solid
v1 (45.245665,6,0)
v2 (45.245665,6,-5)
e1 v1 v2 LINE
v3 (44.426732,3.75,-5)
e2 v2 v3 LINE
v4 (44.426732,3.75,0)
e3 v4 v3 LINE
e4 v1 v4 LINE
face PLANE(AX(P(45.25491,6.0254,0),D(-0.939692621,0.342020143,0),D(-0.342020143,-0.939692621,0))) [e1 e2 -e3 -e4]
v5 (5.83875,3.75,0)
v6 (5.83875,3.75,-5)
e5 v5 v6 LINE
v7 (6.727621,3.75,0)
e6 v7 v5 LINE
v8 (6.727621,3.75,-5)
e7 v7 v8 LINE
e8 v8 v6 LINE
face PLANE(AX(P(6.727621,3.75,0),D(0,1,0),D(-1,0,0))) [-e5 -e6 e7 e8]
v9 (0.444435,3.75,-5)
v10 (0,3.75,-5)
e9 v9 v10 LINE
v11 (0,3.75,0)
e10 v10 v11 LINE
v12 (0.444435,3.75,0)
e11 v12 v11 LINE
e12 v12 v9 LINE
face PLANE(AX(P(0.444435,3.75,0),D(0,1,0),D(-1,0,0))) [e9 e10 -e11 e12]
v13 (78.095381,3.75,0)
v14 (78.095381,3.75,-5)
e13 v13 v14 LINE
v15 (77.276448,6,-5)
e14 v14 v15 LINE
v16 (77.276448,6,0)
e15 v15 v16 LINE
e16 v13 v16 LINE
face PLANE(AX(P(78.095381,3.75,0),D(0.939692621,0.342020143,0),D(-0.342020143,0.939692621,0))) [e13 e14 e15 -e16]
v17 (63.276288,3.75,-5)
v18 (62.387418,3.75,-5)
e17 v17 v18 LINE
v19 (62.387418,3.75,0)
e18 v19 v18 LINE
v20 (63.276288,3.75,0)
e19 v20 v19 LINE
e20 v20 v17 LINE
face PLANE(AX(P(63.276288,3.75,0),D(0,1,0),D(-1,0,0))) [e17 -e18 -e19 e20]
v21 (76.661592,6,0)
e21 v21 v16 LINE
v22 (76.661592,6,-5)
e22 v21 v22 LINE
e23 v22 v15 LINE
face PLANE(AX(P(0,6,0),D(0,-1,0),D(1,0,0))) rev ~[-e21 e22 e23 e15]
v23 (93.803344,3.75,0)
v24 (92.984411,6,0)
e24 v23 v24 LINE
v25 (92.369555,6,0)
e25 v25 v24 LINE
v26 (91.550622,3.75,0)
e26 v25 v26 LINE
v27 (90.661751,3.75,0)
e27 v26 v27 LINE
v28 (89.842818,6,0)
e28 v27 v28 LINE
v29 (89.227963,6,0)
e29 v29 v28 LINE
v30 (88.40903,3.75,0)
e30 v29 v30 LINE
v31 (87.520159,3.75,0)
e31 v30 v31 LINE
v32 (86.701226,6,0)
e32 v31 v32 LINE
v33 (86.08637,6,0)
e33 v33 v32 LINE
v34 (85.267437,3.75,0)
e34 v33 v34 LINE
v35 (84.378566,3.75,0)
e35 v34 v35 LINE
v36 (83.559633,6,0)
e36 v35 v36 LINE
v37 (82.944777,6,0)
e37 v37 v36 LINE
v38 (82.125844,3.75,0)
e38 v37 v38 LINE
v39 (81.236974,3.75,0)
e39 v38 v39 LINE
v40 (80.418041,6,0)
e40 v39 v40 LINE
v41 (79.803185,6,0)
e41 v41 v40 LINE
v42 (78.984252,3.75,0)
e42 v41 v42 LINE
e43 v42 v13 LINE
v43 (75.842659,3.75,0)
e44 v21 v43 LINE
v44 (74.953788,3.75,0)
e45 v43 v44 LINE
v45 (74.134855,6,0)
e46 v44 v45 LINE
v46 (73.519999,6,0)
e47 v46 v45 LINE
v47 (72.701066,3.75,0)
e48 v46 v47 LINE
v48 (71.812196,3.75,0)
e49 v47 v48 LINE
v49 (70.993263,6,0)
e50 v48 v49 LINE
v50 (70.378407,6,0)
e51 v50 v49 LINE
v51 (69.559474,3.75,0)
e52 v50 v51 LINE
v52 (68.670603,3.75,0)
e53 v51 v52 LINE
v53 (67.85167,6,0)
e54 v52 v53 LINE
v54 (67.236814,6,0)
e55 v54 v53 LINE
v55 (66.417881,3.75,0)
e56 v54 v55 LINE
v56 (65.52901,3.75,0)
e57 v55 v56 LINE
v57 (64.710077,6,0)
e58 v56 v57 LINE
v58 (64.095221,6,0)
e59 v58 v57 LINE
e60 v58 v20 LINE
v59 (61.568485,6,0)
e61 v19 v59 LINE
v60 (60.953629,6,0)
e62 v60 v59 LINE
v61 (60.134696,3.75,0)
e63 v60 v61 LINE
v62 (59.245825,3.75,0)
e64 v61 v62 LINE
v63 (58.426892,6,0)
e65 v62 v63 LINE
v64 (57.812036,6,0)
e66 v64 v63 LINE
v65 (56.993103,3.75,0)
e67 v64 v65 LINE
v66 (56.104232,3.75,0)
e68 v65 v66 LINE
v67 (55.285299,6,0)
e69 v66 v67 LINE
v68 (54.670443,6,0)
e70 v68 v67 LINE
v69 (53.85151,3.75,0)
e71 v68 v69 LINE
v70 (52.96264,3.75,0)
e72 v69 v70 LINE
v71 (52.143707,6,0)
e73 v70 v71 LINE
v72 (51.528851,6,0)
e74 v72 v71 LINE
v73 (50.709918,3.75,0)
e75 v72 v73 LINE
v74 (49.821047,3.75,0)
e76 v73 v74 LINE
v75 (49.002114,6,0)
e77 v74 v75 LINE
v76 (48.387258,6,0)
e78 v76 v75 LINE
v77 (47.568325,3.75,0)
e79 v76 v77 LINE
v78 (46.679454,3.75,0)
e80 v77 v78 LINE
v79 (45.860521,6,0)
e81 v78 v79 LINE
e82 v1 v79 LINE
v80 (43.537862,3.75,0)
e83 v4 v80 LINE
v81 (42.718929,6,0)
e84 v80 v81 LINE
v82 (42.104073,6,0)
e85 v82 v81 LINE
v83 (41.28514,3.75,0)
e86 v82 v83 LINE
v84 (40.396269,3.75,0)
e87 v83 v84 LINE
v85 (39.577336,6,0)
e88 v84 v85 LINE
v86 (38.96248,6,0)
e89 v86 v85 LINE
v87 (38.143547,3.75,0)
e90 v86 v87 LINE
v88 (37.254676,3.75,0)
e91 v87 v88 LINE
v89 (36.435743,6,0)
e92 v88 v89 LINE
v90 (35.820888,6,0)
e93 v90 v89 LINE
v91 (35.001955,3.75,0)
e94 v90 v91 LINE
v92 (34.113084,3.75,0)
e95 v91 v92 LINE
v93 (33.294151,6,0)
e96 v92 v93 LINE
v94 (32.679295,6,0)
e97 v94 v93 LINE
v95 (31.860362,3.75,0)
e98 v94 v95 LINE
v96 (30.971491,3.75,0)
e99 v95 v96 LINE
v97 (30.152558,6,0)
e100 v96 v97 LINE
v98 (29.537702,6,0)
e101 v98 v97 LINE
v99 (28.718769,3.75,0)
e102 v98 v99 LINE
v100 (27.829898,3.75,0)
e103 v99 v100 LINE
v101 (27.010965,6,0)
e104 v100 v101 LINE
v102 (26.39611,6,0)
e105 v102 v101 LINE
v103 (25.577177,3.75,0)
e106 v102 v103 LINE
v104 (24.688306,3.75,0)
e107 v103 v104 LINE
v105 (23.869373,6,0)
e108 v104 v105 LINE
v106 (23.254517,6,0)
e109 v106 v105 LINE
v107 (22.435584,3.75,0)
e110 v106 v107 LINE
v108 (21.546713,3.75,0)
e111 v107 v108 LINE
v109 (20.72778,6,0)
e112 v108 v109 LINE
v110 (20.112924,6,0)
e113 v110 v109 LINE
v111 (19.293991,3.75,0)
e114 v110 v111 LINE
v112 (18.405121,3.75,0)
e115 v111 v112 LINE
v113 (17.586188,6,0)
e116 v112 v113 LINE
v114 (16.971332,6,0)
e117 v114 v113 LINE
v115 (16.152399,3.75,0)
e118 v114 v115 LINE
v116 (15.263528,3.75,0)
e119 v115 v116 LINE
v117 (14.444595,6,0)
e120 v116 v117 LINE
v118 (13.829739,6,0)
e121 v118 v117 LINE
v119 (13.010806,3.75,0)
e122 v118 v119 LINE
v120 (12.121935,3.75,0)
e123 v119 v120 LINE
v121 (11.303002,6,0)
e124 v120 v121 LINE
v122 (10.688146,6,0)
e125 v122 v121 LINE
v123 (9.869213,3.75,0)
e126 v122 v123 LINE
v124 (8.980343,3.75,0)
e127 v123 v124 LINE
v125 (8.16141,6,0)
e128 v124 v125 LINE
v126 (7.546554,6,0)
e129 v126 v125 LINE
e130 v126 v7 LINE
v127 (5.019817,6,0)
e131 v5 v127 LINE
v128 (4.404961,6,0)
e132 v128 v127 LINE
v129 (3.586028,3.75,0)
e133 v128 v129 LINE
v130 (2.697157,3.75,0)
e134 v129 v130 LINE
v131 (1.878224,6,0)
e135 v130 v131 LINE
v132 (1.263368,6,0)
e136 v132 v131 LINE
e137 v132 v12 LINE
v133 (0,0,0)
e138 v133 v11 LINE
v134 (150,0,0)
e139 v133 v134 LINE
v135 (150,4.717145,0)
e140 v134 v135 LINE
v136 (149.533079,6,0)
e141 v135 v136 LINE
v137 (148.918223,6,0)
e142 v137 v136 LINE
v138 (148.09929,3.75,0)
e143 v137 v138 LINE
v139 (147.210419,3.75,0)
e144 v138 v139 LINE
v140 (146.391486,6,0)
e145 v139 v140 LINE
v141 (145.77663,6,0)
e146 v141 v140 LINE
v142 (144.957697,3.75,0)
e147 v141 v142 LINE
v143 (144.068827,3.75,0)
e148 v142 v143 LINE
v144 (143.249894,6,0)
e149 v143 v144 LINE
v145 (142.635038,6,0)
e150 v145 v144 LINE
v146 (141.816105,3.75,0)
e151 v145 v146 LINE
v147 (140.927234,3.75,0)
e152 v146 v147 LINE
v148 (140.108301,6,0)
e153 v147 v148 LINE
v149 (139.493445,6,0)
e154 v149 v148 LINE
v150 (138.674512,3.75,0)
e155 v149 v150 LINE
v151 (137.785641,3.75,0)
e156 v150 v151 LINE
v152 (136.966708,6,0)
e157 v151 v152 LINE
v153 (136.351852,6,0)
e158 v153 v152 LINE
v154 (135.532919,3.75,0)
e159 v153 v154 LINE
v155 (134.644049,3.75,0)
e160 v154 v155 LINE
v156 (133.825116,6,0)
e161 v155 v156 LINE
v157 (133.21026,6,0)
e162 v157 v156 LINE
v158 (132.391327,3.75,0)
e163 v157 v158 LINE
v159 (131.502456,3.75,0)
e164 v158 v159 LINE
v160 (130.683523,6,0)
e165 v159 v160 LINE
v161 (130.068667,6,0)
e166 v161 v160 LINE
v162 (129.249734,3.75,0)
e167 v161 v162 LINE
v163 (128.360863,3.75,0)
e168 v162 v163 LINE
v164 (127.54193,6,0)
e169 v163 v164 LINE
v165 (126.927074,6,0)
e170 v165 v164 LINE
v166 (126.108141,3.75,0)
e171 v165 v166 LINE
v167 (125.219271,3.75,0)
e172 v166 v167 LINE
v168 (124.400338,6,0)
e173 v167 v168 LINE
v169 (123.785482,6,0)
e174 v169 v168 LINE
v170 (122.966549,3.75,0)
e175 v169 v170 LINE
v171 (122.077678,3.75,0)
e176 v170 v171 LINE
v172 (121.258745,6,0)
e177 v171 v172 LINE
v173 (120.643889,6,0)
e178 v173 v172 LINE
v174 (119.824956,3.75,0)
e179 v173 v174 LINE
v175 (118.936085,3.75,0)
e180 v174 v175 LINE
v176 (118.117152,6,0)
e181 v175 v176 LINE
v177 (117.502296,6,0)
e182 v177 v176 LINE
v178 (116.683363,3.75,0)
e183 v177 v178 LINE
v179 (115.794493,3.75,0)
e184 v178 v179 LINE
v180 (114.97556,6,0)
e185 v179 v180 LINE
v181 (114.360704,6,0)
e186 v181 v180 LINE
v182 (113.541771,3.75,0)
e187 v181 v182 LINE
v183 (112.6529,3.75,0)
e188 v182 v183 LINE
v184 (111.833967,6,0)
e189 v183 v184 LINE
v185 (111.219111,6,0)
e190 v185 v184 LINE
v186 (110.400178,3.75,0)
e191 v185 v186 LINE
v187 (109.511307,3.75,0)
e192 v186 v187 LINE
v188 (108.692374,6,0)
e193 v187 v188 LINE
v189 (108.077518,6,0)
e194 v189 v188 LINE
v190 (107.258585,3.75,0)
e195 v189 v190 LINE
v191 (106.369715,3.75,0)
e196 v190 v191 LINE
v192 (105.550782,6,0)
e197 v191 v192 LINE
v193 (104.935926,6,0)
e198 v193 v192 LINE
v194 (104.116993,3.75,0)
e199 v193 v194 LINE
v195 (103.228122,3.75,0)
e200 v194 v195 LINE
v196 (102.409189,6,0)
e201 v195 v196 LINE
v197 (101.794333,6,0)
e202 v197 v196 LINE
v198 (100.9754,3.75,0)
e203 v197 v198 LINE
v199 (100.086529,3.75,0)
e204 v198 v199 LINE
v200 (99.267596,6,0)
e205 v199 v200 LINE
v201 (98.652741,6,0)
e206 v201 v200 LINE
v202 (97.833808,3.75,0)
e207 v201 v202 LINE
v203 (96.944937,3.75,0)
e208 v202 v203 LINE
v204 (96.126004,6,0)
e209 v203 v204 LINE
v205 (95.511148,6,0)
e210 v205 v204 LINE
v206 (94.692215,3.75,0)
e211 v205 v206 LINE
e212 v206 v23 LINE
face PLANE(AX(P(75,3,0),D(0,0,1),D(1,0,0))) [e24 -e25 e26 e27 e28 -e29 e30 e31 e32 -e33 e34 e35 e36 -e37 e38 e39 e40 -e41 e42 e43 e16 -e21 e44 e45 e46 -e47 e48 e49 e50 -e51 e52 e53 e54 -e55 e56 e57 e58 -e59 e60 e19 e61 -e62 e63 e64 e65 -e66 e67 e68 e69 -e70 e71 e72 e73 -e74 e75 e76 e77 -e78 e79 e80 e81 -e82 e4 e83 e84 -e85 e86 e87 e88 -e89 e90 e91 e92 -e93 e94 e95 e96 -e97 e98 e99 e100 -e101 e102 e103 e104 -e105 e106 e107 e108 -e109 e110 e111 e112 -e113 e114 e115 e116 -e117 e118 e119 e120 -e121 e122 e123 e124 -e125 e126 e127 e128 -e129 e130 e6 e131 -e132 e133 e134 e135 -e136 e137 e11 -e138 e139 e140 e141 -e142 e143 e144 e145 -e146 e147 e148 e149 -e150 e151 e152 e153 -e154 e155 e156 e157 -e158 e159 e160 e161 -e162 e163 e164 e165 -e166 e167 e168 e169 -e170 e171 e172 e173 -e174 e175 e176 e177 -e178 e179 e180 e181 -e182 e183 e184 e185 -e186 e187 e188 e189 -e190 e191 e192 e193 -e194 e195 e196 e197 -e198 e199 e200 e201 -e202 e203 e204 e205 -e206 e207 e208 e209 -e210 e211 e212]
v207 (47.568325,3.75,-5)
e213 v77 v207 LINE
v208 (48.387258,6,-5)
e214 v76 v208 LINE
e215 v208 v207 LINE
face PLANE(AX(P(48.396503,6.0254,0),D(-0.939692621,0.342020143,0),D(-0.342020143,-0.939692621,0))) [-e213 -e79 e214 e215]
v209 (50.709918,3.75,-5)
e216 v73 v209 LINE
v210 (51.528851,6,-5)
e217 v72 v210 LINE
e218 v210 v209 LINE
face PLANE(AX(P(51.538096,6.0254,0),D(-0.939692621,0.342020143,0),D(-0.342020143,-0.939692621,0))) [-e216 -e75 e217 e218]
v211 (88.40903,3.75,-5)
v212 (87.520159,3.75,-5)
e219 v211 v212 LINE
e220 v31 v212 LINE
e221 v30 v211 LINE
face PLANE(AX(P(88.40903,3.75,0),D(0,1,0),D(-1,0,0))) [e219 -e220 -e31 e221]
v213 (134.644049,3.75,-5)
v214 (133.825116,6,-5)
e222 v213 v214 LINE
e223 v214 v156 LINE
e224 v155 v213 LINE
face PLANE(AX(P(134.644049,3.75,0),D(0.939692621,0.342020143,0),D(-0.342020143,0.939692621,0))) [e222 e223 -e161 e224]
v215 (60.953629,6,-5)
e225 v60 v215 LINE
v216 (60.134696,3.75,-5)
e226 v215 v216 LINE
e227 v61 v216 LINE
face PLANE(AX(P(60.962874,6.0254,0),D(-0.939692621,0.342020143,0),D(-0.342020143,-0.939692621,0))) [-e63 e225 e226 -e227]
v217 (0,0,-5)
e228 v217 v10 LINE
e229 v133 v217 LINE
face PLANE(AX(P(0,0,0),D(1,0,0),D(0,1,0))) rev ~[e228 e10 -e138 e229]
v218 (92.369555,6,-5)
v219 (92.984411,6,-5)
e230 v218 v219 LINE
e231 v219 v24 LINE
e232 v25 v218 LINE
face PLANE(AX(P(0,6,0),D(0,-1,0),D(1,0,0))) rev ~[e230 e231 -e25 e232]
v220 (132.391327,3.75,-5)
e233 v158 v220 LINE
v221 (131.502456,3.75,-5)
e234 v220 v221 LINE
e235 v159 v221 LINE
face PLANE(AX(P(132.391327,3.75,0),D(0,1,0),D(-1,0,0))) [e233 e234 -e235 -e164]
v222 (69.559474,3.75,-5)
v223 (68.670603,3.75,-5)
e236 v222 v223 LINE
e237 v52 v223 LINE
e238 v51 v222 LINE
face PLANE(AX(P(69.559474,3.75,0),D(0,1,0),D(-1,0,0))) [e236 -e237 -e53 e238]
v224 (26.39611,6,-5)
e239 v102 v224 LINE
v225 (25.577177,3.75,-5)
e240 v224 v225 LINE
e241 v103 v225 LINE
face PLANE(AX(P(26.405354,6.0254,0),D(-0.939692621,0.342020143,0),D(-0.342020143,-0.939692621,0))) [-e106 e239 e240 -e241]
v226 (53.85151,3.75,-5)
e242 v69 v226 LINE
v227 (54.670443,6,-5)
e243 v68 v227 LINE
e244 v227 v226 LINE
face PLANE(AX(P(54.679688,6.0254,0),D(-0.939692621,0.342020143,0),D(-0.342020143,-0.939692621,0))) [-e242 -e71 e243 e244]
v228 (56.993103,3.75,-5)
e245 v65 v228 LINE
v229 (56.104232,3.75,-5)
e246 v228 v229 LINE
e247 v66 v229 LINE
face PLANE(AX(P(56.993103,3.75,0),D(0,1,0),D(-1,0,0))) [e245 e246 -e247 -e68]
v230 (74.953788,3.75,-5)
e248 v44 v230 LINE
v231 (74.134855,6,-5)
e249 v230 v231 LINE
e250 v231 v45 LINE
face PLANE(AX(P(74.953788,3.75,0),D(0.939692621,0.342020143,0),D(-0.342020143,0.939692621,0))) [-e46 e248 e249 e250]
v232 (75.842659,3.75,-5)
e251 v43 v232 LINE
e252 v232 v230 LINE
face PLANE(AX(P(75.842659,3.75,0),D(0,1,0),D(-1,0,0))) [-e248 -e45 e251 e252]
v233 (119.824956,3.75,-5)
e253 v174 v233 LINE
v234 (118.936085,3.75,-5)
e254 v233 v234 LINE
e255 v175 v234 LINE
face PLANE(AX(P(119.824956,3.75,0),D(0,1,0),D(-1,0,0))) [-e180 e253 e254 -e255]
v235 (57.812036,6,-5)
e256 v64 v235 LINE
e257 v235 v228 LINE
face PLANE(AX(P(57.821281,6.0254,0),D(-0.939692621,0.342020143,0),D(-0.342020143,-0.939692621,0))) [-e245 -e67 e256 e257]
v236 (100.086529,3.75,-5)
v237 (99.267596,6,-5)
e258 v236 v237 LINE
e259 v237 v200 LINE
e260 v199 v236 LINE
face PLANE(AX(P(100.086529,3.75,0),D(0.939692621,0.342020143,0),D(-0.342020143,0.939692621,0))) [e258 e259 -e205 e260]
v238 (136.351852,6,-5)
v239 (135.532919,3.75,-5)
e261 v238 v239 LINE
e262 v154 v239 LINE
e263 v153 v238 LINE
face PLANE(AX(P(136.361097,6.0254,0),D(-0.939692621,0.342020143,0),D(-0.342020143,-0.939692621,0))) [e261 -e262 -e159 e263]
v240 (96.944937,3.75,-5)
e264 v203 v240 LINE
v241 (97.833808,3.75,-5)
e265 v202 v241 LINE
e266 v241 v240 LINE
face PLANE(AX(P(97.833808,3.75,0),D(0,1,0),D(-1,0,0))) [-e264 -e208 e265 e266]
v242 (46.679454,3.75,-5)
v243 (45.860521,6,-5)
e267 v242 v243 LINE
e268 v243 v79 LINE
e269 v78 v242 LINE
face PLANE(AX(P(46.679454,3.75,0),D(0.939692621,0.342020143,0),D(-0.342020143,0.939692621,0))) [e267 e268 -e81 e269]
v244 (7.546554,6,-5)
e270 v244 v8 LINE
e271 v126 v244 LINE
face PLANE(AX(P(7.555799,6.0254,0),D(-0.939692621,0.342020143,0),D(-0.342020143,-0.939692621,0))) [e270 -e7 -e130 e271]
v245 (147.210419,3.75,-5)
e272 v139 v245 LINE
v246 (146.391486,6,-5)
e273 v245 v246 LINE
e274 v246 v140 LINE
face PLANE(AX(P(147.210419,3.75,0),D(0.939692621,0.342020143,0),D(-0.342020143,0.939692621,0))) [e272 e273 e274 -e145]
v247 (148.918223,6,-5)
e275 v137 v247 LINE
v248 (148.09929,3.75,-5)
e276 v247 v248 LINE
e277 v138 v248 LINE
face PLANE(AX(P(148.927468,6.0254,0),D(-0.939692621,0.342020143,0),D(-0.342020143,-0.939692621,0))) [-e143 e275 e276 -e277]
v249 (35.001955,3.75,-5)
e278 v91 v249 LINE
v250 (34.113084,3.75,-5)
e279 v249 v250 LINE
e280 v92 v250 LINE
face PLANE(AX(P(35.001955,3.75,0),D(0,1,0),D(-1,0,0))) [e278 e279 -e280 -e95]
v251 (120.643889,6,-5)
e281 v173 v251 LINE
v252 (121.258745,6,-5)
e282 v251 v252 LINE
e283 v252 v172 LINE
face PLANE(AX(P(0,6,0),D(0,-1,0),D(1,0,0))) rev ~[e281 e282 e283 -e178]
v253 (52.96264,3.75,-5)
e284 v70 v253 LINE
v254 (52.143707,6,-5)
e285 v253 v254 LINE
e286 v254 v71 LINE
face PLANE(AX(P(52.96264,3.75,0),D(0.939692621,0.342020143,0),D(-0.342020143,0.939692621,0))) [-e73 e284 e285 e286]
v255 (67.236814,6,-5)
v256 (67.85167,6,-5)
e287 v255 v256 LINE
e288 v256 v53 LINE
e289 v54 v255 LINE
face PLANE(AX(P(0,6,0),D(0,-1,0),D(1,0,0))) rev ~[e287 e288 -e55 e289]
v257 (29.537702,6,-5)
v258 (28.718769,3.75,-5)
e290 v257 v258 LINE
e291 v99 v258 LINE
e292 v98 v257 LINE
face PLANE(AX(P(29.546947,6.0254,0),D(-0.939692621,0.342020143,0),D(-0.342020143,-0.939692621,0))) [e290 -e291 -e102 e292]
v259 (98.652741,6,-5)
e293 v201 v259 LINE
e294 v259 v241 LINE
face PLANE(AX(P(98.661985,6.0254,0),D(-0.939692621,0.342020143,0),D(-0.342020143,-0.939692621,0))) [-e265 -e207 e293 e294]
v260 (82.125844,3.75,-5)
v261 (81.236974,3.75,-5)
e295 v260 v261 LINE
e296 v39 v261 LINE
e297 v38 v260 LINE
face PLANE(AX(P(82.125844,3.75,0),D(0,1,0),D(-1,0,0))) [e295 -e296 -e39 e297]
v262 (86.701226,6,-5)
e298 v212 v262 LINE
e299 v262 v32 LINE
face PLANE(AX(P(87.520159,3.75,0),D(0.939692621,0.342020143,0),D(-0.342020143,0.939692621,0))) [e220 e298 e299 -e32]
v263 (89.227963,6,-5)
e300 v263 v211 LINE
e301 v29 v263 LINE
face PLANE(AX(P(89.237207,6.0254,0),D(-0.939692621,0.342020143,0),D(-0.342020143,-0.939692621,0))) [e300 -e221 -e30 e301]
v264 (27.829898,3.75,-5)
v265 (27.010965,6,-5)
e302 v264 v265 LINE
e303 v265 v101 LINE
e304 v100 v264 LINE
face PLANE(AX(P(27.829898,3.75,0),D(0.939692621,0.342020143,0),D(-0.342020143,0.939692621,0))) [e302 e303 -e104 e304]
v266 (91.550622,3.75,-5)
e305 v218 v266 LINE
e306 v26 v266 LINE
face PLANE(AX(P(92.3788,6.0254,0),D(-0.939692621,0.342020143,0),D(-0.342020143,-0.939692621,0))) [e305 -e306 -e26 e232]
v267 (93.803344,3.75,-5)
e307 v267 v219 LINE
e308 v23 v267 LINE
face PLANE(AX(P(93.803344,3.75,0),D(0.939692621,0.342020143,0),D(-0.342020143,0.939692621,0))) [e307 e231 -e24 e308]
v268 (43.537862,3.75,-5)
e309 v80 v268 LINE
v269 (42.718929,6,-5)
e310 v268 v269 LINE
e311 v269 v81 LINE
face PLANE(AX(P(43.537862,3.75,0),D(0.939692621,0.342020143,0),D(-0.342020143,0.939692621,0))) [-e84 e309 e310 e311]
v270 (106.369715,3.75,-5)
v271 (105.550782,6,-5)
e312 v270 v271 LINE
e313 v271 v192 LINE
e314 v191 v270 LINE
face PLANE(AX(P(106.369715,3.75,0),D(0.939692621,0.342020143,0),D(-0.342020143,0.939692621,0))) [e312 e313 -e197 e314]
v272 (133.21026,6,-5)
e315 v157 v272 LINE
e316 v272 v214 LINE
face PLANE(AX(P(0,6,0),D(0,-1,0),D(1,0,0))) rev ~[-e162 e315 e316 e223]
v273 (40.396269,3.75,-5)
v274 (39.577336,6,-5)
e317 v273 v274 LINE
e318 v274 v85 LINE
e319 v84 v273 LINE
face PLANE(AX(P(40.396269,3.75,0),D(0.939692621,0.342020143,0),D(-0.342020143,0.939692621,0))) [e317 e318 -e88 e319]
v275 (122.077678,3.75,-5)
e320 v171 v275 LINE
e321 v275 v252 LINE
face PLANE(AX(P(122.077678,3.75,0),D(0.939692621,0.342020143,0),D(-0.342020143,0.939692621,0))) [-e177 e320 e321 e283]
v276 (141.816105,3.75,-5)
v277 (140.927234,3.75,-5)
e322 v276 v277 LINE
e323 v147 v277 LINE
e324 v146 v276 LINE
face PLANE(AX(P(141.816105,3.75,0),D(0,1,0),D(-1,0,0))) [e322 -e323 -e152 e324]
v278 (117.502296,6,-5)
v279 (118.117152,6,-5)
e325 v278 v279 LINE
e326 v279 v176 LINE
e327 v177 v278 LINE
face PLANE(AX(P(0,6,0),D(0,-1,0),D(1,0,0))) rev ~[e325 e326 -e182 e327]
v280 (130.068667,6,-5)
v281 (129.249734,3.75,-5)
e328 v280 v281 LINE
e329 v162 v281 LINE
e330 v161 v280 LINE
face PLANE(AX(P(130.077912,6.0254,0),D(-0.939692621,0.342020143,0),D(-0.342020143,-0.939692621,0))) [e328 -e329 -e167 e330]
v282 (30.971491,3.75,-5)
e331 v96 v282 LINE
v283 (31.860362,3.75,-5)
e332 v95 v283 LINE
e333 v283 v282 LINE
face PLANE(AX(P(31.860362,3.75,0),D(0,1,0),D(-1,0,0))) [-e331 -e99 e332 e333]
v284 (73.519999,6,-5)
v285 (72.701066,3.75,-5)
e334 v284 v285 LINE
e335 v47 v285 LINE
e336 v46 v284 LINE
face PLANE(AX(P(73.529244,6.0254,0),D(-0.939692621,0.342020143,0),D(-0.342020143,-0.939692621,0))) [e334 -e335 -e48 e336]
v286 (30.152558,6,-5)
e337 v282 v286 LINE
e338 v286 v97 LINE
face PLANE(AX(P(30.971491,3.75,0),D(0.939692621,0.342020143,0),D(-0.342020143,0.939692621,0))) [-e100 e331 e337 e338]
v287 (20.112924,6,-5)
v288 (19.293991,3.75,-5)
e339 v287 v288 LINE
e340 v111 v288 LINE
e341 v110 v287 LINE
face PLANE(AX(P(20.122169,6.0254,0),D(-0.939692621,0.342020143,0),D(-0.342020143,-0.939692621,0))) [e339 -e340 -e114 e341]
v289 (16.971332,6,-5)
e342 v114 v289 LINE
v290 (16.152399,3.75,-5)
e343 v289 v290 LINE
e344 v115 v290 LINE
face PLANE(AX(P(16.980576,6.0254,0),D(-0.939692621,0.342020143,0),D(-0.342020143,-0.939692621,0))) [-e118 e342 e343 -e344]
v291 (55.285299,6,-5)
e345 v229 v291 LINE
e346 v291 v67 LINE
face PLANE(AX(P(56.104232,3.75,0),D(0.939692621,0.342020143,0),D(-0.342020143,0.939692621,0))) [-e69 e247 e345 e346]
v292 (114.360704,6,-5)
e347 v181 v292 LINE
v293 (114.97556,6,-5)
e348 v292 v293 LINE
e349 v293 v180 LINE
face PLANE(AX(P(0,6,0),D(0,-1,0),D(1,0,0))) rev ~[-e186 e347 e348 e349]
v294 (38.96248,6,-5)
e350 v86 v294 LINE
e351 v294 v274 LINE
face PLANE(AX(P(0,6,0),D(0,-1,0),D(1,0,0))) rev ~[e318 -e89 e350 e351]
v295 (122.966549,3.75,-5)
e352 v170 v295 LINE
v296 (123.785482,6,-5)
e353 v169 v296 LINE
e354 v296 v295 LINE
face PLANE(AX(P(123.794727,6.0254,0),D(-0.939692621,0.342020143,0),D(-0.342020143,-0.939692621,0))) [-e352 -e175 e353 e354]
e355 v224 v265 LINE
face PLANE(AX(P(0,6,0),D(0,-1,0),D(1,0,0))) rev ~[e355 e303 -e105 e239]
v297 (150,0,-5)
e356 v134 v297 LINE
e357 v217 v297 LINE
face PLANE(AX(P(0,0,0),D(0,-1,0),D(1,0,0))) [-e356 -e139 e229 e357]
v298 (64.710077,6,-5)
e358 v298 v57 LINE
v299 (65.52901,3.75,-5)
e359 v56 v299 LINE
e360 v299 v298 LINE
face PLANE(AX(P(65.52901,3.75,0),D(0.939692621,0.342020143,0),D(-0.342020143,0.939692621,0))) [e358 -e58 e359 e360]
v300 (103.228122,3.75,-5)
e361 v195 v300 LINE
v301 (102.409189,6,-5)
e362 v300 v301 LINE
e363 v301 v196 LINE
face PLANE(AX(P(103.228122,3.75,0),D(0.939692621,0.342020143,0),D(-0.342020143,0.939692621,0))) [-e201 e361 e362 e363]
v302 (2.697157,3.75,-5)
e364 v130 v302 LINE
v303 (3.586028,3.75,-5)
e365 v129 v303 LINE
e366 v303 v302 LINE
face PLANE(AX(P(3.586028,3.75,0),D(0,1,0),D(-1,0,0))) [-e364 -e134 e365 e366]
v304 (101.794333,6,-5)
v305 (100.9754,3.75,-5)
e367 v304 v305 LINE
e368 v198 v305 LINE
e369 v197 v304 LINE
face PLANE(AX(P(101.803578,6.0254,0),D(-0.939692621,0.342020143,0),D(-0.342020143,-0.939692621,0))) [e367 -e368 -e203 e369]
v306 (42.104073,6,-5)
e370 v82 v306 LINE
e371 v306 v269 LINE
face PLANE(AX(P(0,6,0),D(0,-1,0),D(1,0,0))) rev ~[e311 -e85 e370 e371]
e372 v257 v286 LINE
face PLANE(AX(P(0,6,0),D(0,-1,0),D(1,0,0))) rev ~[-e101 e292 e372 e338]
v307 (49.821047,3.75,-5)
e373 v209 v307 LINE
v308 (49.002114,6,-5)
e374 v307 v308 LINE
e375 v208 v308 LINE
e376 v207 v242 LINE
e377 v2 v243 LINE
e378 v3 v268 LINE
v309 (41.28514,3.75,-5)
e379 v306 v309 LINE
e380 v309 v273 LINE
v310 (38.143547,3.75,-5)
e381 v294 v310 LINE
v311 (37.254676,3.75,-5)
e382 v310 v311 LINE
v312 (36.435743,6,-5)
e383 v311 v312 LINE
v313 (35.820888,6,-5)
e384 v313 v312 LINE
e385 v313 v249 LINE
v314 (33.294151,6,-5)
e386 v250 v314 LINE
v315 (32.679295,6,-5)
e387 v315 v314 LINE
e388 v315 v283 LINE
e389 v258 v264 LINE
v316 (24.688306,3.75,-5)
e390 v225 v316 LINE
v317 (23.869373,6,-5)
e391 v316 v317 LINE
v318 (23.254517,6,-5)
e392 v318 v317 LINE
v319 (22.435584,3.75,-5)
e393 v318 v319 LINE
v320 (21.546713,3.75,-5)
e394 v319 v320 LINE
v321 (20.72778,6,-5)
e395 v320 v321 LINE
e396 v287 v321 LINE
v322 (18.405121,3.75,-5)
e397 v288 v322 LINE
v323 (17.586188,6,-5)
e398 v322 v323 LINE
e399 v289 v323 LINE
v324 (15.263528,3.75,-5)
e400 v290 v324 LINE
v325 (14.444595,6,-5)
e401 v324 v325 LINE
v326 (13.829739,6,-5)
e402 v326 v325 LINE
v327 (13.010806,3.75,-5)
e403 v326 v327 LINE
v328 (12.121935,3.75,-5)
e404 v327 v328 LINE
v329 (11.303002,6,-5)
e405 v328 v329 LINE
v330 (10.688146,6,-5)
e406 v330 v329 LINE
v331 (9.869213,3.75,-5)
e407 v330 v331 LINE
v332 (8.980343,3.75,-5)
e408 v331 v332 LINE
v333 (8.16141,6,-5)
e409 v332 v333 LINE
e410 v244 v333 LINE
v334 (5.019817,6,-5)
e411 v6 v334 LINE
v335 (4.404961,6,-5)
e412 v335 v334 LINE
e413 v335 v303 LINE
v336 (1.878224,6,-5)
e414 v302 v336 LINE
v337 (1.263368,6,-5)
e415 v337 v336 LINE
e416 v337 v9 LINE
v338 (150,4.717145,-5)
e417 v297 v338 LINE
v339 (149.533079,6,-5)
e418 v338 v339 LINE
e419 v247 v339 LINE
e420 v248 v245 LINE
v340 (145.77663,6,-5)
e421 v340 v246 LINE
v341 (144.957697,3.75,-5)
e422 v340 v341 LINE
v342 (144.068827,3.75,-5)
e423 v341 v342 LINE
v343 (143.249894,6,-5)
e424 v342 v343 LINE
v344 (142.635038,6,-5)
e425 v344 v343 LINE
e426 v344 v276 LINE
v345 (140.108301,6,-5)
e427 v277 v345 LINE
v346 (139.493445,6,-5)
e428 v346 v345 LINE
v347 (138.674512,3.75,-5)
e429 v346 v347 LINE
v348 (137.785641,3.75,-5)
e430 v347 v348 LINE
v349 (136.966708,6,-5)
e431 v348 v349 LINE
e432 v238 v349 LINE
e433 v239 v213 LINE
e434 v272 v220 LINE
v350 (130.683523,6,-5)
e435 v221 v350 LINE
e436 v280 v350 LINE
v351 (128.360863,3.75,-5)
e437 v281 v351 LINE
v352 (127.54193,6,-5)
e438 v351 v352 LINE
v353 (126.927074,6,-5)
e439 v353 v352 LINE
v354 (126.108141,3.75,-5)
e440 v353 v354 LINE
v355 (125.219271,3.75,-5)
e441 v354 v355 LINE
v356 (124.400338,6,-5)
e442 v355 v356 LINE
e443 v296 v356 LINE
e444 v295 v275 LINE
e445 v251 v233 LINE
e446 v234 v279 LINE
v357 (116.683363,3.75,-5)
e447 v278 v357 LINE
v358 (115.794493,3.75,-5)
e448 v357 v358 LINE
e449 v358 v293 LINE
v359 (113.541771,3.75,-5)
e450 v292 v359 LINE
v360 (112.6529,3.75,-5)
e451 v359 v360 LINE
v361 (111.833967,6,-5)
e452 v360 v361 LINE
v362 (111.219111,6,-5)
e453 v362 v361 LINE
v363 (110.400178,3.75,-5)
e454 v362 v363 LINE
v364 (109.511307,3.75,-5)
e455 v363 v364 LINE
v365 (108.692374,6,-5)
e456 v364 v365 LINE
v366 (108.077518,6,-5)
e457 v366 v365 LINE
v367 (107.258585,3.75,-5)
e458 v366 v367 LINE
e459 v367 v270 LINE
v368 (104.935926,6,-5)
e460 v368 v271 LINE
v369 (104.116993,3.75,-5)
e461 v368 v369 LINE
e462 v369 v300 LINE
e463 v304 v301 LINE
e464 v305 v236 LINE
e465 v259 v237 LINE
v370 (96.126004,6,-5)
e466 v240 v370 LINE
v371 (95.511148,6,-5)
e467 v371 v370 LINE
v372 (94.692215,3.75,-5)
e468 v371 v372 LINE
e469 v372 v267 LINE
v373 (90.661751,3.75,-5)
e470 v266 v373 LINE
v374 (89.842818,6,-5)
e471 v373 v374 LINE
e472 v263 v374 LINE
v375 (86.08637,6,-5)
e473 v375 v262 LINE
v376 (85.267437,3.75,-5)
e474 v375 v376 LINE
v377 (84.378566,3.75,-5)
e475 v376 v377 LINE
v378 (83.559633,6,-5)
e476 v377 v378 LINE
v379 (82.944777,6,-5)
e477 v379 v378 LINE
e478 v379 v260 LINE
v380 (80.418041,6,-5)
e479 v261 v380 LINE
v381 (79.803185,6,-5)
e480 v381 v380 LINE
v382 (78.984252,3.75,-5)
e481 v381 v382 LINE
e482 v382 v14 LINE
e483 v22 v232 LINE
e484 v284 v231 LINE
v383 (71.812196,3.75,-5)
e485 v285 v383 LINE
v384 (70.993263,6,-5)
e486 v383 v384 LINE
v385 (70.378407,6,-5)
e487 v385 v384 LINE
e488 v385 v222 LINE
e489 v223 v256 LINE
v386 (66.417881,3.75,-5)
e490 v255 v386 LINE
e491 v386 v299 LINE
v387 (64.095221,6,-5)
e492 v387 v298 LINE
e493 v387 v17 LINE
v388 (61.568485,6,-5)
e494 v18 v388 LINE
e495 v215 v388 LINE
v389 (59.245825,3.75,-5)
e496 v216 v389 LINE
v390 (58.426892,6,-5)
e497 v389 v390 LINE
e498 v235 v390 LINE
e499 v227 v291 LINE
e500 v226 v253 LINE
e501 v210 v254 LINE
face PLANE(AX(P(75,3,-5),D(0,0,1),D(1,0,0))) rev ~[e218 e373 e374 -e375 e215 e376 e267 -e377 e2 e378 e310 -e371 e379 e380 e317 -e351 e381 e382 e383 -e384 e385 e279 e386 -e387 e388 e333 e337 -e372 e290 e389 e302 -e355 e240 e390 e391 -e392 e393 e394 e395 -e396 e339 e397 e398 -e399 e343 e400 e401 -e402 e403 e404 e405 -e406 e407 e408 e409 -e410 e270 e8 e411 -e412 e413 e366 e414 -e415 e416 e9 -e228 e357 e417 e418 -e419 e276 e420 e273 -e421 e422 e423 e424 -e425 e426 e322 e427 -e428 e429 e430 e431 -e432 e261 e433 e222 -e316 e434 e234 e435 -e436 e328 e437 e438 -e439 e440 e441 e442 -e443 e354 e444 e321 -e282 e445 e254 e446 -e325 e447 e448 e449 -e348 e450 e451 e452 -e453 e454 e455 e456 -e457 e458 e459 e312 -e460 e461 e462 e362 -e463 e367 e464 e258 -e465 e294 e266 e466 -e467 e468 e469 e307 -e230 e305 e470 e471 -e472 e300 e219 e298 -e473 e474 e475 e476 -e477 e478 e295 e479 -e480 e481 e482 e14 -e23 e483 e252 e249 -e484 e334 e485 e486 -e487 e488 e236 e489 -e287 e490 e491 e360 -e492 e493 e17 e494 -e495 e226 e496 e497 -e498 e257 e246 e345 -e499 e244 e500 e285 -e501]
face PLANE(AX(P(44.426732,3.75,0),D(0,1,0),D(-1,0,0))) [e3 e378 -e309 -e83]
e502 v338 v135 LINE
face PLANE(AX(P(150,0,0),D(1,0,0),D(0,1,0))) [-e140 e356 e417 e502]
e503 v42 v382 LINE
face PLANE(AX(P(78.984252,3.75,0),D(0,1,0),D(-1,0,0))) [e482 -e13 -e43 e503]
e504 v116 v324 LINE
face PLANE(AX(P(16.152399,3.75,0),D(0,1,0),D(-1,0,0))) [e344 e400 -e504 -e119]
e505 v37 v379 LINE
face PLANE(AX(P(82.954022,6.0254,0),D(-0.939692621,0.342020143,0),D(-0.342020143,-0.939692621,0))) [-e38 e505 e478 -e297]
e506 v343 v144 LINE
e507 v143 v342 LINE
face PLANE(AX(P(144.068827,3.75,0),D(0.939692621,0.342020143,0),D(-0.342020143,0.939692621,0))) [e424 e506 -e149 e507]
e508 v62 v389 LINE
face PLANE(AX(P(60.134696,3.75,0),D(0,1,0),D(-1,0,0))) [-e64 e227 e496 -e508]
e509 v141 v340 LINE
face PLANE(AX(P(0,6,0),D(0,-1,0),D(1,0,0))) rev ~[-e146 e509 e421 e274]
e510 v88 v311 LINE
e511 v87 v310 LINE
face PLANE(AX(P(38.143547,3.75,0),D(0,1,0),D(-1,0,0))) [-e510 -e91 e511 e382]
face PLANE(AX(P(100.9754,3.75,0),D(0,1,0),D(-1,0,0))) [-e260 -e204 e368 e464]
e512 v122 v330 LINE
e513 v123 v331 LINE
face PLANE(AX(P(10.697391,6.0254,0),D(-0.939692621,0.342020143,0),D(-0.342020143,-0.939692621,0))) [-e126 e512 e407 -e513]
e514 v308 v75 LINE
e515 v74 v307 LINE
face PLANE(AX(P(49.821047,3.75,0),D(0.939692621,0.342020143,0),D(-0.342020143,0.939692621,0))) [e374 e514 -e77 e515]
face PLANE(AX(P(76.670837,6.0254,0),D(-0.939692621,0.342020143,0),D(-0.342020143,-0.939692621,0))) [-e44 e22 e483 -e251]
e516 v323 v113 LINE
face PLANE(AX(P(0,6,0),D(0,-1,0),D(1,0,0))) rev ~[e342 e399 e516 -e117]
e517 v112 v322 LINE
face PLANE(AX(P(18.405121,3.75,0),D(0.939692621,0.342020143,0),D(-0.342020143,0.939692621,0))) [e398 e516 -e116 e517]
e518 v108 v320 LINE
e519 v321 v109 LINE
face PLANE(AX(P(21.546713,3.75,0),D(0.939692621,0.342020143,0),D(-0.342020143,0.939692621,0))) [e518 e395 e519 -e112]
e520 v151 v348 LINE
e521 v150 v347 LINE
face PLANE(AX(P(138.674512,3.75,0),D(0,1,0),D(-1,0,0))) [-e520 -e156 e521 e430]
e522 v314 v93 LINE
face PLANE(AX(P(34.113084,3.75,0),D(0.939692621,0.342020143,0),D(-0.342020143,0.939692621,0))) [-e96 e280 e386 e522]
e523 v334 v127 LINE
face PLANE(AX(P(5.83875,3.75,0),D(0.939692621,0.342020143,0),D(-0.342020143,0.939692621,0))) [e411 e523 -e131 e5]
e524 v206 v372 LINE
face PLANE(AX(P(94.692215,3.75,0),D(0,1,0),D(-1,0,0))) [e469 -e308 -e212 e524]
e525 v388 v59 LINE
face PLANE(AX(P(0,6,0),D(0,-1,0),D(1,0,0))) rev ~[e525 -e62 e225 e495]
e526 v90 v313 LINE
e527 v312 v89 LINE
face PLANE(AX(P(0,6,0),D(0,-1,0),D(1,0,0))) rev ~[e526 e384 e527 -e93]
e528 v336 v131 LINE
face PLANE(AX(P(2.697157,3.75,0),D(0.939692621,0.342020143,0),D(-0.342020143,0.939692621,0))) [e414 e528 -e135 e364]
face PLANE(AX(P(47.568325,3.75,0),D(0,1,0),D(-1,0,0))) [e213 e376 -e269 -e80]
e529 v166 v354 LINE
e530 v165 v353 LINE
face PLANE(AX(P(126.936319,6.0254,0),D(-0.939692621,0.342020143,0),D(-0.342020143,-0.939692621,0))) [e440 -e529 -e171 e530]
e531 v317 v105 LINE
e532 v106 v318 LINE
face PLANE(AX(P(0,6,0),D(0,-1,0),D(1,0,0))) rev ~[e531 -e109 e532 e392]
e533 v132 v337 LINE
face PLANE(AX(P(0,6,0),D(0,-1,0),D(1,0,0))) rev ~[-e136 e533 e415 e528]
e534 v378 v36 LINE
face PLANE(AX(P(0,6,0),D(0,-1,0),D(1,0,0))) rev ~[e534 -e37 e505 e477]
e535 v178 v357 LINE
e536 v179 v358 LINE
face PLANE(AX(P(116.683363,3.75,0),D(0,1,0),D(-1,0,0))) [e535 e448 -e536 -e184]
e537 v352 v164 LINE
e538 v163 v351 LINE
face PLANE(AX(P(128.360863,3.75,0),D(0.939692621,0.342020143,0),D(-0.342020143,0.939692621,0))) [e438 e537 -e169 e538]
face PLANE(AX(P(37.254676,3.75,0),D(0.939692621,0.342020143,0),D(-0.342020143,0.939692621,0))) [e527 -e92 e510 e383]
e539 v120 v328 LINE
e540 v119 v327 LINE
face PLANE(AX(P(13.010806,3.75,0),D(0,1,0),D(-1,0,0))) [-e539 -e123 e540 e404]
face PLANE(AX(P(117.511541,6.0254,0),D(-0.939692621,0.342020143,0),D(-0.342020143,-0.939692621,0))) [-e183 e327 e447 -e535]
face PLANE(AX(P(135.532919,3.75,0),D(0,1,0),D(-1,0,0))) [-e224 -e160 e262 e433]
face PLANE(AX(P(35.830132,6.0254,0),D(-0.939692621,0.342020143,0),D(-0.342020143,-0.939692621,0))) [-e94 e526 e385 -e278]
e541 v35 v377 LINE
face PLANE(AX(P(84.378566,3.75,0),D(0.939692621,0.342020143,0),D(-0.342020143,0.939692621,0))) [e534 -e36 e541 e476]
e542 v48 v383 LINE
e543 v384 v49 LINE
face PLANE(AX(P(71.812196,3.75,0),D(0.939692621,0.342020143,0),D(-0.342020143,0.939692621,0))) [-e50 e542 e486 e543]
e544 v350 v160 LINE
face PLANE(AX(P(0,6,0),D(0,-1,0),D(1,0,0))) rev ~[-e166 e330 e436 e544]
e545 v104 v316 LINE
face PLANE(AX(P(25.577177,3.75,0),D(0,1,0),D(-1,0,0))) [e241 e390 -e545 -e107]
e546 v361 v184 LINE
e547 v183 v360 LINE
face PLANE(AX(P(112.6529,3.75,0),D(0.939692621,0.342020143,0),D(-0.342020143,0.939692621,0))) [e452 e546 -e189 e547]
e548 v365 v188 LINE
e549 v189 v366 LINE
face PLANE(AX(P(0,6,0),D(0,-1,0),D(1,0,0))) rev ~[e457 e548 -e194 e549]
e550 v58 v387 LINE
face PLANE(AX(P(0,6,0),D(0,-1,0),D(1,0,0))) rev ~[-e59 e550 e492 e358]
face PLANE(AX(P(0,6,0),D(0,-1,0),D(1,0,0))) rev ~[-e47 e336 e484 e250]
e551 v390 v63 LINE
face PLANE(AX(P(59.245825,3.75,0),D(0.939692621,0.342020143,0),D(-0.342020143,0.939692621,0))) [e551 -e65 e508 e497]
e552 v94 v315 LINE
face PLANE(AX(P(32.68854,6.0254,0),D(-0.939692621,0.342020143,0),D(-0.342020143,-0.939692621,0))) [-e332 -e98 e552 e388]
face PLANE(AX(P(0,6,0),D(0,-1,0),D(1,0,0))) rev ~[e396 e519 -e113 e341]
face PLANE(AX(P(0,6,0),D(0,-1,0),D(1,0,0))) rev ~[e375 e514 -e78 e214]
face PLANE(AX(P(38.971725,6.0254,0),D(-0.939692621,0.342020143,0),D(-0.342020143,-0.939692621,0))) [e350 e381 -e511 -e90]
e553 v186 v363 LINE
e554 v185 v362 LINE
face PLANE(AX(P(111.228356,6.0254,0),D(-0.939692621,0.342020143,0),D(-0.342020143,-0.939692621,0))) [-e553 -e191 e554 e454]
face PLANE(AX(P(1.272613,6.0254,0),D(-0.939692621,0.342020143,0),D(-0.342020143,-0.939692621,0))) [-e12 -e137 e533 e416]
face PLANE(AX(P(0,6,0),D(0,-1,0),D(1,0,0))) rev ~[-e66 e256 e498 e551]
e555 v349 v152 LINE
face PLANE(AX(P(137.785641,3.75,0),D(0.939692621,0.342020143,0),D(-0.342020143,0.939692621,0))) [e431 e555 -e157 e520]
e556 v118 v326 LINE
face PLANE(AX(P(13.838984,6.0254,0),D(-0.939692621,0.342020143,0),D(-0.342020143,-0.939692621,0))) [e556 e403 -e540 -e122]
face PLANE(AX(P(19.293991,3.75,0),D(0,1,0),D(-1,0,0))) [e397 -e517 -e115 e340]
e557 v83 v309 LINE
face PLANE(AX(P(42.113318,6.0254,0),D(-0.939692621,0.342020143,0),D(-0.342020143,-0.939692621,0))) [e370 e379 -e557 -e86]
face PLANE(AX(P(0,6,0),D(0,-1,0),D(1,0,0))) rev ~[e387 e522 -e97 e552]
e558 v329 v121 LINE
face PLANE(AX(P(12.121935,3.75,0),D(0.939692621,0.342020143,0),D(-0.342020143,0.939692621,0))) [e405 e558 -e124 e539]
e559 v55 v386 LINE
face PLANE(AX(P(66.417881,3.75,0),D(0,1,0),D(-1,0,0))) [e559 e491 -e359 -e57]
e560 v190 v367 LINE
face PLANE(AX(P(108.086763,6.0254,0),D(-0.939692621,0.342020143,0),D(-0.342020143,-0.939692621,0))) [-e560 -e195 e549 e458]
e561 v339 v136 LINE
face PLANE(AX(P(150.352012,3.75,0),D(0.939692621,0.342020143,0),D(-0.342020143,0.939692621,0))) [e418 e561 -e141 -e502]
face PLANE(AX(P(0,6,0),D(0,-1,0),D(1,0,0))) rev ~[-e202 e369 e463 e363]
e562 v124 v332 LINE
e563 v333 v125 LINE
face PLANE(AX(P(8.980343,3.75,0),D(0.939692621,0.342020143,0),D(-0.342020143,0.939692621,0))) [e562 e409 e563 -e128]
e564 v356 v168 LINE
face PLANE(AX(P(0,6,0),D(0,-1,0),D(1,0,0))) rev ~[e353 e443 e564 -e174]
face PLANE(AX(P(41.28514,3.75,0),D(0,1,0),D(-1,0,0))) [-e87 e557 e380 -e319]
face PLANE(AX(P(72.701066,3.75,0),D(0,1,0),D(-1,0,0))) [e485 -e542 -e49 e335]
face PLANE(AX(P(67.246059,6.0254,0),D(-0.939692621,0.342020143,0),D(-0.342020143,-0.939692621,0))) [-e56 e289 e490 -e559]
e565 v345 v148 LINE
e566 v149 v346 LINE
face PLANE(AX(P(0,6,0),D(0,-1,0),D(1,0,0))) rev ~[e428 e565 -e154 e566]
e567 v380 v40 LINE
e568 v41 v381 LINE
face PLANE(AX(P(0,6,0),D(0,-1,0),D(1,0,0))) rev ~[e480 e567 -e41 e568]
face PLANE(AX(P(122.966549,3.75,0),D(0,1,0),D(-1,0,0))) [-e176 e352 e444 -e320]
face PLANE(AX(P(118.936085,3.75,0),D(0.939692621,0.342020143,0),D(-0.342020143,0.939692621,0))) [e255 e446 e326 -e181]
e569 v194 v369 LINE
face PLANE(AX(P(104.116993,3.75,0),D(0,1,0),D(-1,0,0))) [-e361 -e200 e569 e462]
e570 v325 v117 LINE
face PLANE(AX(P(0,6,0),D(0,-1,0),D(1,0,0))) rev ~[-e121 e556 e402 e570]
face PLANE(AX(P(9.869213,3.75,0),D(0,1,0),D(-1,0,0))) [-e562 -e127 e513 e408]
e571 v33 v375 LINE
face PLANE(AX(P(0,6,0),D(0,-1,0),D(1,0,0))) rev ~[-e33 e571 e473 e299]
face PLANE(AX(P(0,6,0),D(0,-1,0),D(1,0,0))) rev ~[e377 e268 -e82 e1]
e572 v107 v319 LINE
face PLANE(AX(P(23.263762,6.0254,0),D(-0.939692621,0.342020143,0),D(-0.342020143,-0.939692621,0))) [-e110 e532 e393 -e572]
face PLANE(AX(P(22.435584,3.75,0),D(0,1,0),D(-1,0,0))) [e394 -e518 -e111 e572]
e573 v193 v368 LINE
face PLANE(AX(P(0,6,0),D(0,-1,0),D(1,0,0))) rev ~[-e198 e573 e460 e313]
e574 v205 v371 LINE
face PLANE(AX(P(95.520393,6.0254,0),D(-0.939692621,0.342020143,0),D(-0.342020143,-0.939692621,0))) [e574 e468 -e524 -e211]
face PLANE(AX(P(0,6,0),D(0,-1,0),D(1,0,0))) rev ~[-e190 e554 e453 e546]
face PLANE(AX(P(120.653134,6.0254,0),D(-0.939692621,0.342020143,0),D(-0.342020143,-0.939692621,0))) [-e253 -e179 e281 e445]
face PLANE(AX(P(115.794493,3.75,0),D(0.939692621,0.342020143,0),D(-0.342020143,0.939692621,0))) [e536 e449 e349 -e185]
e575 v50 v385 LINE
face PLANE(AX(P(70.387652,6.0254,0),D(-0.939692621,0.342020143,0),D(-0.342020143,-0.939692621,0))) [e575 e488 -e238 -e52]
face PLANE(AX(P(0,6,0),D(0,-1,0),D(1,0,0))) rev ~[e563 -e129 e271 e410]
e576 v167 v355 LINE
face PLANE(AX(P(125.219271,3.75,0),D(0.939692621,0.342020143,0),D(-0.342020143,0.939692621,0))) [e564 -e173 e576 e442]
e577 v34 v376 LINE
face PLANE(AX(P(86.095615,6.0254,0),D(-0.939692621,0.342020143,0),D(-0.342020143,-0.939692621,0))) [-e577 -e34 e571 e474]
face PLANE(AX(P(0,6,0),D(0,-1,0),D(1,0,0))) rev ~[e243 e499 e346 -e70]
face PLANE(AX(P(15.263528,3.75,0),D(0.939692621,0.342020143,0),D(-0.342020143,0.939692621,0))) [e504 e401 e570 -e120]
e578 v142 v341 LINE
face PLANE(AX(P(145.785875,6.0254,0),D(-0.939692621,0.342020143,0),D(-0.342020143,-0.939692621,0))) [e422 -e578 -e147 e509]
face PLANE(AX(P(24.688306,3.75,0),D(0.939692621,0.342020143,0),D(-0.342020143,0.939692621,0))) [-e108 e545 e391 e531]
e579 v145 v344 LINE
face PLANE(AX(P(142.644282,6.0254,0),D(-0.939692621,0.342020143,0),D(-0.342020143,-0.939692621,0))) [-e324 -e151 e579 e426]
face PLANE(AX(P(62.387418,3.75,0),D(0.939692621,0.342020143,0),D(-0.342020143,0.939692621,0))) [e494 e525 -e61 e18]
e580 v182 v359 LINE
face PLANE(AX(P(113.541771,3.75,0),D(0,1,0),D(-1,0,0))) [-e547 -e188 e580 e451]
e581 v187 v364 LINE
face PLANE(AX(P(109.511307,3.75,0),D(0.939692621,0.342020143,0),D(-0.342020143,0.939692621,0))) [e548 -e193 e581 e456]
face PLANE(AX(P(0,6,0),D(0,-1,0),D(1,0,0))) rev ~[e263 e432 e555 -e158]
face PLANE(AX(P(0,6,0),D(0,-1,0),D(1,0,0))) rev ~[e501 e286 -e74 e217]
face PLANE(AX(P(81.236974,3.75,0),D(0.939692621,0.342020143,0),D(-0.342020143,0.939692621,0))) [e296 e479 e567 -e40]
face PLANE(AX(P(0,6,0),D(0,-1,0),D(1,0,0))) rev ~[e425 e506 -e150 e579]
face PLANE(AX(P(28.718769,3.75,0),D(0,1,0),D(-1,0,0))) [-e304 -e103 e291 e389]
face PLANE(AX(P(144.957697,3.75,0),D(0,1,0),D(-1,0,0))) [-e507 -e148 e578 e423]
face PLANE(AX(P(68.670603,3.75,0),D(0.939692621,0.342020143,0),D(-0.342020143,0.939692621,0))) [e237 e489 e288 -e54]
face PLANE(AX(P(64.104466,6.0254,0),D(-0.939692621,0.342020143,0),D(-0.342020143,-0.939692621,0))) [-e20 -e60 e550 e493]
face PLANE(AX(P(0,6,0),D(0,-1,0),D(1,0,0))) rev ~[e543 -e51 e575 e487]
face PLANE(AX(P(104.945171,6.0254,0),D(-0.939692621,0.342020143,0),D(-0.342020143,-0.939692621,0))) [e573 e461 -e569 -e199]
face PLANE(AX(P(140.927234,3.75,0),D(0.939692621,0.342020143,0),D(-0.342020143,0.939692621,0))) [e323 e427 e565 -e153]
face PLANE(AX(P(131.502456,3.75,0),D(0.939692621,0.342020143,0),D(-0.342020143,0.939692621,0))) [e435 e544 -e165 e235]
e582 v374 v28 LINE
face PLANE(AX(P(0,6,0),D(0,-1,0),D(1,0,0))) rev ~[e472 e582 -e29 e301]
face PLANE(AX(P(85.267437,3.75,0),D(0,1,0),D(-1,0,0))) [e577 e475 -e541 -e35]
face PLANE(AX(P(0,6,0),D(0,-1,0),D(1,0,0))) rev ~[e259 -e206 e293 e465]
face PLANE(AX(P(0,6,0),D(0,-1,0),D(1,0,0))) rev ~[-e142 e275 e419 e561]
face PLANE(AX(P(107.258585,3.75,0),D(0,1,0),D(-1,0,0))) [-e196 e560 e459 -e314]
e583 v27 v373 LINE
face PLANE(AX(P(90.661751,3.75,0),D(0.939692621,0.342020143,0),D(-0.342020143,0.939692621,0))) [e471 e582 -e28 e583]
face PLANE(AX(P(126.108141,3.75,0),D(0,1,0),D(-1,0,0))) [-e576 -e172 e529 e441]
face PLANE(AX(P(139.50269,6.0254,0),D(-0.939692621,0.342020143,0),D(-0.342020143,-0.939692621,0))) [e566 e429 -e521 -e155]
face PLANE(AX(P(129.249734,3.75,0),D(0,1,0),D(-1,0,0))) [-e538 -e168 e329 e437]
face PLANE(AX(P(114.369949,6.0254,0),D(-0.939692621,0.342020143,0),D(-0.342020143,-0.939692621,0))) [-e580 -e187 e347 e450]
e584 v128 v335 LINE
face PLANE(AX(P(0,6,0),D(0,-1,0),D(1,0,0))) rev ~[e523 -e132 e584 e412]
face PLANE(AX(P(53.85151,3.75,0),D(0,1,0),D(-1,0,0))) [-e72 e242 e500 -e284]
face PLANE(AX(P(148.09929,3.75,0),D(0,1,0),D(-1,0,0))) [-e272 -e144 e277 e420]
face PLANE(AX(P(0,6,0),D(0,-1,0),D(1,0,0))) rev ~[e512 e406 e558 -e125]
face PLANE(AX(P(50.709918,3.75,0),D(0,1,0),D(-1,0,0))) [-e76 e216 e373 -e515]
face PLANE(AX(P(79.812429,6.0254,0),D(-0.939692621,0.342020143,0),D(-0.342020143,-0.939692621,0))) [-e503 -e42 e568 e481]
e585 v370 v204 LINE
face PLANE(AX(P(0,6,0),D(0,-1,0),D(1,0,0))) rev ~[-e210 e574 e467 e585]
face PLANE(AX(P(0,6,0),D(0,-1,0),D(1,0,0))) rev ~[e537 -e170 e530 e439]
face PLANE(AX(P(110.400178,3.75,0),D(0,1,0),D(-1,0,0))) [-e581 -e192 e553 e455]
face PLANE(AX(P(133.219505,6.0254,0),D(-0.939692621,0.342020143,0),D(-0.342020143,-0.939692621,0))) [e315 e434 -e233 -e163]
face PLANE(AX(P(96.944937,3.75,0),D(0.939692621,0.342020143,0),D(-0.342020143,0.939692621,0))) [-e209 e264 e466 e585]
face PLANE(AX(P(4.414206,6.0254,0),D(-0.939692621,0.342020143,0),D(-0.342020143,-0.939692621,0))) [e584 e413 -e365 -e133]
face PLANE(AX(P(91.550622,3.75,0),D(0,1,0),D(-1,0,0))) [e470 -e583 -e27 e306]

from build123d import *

# Parameters (mm, degrees)
BLANKSKE_W        = 150
BLANKSKE_H        = 6
BLANK_DEPTH       = 5
TOOTHCUTSIM_DEPTH = 151.203195705
TEETHCUTS_COUNT   = 49
TEETHCUTS_PITCH   = 3.14159265


with BuildPart() as part:
    # BlankSke → Blank (new body)
    with BuildSketch(Plane.XY):
        with Locations((75, 3)):
            Rectangle(BLANKSKE_W, BLANKSKE_H)
    extrude(amount=-BLANK_DEPTH)

    # TooCutSkeSim → ToothCutSim (cut, through all)
    with BuildSketch(Plane.XY):
        Polygon((0.44443537, 3.75), (-0.44443537, 3.75), (-1.272613241, 6.0254), (1.272613241, 6.0254), align=None)
    toothcutsim = extrude(amount=-TOOTHCUTSIM_DEPTH, mode=Mode.SUBTRACT)

    # TeethCuts: ToothCutSim ×49
    with Locations(*[(i * TEETHCUTS_PITCH, 0, 0) for i in range(1, TEETHCUTS_COUNT)]):
        add(toothcutsim, mode=Mode.SUBTRACT)


solid = part.part
